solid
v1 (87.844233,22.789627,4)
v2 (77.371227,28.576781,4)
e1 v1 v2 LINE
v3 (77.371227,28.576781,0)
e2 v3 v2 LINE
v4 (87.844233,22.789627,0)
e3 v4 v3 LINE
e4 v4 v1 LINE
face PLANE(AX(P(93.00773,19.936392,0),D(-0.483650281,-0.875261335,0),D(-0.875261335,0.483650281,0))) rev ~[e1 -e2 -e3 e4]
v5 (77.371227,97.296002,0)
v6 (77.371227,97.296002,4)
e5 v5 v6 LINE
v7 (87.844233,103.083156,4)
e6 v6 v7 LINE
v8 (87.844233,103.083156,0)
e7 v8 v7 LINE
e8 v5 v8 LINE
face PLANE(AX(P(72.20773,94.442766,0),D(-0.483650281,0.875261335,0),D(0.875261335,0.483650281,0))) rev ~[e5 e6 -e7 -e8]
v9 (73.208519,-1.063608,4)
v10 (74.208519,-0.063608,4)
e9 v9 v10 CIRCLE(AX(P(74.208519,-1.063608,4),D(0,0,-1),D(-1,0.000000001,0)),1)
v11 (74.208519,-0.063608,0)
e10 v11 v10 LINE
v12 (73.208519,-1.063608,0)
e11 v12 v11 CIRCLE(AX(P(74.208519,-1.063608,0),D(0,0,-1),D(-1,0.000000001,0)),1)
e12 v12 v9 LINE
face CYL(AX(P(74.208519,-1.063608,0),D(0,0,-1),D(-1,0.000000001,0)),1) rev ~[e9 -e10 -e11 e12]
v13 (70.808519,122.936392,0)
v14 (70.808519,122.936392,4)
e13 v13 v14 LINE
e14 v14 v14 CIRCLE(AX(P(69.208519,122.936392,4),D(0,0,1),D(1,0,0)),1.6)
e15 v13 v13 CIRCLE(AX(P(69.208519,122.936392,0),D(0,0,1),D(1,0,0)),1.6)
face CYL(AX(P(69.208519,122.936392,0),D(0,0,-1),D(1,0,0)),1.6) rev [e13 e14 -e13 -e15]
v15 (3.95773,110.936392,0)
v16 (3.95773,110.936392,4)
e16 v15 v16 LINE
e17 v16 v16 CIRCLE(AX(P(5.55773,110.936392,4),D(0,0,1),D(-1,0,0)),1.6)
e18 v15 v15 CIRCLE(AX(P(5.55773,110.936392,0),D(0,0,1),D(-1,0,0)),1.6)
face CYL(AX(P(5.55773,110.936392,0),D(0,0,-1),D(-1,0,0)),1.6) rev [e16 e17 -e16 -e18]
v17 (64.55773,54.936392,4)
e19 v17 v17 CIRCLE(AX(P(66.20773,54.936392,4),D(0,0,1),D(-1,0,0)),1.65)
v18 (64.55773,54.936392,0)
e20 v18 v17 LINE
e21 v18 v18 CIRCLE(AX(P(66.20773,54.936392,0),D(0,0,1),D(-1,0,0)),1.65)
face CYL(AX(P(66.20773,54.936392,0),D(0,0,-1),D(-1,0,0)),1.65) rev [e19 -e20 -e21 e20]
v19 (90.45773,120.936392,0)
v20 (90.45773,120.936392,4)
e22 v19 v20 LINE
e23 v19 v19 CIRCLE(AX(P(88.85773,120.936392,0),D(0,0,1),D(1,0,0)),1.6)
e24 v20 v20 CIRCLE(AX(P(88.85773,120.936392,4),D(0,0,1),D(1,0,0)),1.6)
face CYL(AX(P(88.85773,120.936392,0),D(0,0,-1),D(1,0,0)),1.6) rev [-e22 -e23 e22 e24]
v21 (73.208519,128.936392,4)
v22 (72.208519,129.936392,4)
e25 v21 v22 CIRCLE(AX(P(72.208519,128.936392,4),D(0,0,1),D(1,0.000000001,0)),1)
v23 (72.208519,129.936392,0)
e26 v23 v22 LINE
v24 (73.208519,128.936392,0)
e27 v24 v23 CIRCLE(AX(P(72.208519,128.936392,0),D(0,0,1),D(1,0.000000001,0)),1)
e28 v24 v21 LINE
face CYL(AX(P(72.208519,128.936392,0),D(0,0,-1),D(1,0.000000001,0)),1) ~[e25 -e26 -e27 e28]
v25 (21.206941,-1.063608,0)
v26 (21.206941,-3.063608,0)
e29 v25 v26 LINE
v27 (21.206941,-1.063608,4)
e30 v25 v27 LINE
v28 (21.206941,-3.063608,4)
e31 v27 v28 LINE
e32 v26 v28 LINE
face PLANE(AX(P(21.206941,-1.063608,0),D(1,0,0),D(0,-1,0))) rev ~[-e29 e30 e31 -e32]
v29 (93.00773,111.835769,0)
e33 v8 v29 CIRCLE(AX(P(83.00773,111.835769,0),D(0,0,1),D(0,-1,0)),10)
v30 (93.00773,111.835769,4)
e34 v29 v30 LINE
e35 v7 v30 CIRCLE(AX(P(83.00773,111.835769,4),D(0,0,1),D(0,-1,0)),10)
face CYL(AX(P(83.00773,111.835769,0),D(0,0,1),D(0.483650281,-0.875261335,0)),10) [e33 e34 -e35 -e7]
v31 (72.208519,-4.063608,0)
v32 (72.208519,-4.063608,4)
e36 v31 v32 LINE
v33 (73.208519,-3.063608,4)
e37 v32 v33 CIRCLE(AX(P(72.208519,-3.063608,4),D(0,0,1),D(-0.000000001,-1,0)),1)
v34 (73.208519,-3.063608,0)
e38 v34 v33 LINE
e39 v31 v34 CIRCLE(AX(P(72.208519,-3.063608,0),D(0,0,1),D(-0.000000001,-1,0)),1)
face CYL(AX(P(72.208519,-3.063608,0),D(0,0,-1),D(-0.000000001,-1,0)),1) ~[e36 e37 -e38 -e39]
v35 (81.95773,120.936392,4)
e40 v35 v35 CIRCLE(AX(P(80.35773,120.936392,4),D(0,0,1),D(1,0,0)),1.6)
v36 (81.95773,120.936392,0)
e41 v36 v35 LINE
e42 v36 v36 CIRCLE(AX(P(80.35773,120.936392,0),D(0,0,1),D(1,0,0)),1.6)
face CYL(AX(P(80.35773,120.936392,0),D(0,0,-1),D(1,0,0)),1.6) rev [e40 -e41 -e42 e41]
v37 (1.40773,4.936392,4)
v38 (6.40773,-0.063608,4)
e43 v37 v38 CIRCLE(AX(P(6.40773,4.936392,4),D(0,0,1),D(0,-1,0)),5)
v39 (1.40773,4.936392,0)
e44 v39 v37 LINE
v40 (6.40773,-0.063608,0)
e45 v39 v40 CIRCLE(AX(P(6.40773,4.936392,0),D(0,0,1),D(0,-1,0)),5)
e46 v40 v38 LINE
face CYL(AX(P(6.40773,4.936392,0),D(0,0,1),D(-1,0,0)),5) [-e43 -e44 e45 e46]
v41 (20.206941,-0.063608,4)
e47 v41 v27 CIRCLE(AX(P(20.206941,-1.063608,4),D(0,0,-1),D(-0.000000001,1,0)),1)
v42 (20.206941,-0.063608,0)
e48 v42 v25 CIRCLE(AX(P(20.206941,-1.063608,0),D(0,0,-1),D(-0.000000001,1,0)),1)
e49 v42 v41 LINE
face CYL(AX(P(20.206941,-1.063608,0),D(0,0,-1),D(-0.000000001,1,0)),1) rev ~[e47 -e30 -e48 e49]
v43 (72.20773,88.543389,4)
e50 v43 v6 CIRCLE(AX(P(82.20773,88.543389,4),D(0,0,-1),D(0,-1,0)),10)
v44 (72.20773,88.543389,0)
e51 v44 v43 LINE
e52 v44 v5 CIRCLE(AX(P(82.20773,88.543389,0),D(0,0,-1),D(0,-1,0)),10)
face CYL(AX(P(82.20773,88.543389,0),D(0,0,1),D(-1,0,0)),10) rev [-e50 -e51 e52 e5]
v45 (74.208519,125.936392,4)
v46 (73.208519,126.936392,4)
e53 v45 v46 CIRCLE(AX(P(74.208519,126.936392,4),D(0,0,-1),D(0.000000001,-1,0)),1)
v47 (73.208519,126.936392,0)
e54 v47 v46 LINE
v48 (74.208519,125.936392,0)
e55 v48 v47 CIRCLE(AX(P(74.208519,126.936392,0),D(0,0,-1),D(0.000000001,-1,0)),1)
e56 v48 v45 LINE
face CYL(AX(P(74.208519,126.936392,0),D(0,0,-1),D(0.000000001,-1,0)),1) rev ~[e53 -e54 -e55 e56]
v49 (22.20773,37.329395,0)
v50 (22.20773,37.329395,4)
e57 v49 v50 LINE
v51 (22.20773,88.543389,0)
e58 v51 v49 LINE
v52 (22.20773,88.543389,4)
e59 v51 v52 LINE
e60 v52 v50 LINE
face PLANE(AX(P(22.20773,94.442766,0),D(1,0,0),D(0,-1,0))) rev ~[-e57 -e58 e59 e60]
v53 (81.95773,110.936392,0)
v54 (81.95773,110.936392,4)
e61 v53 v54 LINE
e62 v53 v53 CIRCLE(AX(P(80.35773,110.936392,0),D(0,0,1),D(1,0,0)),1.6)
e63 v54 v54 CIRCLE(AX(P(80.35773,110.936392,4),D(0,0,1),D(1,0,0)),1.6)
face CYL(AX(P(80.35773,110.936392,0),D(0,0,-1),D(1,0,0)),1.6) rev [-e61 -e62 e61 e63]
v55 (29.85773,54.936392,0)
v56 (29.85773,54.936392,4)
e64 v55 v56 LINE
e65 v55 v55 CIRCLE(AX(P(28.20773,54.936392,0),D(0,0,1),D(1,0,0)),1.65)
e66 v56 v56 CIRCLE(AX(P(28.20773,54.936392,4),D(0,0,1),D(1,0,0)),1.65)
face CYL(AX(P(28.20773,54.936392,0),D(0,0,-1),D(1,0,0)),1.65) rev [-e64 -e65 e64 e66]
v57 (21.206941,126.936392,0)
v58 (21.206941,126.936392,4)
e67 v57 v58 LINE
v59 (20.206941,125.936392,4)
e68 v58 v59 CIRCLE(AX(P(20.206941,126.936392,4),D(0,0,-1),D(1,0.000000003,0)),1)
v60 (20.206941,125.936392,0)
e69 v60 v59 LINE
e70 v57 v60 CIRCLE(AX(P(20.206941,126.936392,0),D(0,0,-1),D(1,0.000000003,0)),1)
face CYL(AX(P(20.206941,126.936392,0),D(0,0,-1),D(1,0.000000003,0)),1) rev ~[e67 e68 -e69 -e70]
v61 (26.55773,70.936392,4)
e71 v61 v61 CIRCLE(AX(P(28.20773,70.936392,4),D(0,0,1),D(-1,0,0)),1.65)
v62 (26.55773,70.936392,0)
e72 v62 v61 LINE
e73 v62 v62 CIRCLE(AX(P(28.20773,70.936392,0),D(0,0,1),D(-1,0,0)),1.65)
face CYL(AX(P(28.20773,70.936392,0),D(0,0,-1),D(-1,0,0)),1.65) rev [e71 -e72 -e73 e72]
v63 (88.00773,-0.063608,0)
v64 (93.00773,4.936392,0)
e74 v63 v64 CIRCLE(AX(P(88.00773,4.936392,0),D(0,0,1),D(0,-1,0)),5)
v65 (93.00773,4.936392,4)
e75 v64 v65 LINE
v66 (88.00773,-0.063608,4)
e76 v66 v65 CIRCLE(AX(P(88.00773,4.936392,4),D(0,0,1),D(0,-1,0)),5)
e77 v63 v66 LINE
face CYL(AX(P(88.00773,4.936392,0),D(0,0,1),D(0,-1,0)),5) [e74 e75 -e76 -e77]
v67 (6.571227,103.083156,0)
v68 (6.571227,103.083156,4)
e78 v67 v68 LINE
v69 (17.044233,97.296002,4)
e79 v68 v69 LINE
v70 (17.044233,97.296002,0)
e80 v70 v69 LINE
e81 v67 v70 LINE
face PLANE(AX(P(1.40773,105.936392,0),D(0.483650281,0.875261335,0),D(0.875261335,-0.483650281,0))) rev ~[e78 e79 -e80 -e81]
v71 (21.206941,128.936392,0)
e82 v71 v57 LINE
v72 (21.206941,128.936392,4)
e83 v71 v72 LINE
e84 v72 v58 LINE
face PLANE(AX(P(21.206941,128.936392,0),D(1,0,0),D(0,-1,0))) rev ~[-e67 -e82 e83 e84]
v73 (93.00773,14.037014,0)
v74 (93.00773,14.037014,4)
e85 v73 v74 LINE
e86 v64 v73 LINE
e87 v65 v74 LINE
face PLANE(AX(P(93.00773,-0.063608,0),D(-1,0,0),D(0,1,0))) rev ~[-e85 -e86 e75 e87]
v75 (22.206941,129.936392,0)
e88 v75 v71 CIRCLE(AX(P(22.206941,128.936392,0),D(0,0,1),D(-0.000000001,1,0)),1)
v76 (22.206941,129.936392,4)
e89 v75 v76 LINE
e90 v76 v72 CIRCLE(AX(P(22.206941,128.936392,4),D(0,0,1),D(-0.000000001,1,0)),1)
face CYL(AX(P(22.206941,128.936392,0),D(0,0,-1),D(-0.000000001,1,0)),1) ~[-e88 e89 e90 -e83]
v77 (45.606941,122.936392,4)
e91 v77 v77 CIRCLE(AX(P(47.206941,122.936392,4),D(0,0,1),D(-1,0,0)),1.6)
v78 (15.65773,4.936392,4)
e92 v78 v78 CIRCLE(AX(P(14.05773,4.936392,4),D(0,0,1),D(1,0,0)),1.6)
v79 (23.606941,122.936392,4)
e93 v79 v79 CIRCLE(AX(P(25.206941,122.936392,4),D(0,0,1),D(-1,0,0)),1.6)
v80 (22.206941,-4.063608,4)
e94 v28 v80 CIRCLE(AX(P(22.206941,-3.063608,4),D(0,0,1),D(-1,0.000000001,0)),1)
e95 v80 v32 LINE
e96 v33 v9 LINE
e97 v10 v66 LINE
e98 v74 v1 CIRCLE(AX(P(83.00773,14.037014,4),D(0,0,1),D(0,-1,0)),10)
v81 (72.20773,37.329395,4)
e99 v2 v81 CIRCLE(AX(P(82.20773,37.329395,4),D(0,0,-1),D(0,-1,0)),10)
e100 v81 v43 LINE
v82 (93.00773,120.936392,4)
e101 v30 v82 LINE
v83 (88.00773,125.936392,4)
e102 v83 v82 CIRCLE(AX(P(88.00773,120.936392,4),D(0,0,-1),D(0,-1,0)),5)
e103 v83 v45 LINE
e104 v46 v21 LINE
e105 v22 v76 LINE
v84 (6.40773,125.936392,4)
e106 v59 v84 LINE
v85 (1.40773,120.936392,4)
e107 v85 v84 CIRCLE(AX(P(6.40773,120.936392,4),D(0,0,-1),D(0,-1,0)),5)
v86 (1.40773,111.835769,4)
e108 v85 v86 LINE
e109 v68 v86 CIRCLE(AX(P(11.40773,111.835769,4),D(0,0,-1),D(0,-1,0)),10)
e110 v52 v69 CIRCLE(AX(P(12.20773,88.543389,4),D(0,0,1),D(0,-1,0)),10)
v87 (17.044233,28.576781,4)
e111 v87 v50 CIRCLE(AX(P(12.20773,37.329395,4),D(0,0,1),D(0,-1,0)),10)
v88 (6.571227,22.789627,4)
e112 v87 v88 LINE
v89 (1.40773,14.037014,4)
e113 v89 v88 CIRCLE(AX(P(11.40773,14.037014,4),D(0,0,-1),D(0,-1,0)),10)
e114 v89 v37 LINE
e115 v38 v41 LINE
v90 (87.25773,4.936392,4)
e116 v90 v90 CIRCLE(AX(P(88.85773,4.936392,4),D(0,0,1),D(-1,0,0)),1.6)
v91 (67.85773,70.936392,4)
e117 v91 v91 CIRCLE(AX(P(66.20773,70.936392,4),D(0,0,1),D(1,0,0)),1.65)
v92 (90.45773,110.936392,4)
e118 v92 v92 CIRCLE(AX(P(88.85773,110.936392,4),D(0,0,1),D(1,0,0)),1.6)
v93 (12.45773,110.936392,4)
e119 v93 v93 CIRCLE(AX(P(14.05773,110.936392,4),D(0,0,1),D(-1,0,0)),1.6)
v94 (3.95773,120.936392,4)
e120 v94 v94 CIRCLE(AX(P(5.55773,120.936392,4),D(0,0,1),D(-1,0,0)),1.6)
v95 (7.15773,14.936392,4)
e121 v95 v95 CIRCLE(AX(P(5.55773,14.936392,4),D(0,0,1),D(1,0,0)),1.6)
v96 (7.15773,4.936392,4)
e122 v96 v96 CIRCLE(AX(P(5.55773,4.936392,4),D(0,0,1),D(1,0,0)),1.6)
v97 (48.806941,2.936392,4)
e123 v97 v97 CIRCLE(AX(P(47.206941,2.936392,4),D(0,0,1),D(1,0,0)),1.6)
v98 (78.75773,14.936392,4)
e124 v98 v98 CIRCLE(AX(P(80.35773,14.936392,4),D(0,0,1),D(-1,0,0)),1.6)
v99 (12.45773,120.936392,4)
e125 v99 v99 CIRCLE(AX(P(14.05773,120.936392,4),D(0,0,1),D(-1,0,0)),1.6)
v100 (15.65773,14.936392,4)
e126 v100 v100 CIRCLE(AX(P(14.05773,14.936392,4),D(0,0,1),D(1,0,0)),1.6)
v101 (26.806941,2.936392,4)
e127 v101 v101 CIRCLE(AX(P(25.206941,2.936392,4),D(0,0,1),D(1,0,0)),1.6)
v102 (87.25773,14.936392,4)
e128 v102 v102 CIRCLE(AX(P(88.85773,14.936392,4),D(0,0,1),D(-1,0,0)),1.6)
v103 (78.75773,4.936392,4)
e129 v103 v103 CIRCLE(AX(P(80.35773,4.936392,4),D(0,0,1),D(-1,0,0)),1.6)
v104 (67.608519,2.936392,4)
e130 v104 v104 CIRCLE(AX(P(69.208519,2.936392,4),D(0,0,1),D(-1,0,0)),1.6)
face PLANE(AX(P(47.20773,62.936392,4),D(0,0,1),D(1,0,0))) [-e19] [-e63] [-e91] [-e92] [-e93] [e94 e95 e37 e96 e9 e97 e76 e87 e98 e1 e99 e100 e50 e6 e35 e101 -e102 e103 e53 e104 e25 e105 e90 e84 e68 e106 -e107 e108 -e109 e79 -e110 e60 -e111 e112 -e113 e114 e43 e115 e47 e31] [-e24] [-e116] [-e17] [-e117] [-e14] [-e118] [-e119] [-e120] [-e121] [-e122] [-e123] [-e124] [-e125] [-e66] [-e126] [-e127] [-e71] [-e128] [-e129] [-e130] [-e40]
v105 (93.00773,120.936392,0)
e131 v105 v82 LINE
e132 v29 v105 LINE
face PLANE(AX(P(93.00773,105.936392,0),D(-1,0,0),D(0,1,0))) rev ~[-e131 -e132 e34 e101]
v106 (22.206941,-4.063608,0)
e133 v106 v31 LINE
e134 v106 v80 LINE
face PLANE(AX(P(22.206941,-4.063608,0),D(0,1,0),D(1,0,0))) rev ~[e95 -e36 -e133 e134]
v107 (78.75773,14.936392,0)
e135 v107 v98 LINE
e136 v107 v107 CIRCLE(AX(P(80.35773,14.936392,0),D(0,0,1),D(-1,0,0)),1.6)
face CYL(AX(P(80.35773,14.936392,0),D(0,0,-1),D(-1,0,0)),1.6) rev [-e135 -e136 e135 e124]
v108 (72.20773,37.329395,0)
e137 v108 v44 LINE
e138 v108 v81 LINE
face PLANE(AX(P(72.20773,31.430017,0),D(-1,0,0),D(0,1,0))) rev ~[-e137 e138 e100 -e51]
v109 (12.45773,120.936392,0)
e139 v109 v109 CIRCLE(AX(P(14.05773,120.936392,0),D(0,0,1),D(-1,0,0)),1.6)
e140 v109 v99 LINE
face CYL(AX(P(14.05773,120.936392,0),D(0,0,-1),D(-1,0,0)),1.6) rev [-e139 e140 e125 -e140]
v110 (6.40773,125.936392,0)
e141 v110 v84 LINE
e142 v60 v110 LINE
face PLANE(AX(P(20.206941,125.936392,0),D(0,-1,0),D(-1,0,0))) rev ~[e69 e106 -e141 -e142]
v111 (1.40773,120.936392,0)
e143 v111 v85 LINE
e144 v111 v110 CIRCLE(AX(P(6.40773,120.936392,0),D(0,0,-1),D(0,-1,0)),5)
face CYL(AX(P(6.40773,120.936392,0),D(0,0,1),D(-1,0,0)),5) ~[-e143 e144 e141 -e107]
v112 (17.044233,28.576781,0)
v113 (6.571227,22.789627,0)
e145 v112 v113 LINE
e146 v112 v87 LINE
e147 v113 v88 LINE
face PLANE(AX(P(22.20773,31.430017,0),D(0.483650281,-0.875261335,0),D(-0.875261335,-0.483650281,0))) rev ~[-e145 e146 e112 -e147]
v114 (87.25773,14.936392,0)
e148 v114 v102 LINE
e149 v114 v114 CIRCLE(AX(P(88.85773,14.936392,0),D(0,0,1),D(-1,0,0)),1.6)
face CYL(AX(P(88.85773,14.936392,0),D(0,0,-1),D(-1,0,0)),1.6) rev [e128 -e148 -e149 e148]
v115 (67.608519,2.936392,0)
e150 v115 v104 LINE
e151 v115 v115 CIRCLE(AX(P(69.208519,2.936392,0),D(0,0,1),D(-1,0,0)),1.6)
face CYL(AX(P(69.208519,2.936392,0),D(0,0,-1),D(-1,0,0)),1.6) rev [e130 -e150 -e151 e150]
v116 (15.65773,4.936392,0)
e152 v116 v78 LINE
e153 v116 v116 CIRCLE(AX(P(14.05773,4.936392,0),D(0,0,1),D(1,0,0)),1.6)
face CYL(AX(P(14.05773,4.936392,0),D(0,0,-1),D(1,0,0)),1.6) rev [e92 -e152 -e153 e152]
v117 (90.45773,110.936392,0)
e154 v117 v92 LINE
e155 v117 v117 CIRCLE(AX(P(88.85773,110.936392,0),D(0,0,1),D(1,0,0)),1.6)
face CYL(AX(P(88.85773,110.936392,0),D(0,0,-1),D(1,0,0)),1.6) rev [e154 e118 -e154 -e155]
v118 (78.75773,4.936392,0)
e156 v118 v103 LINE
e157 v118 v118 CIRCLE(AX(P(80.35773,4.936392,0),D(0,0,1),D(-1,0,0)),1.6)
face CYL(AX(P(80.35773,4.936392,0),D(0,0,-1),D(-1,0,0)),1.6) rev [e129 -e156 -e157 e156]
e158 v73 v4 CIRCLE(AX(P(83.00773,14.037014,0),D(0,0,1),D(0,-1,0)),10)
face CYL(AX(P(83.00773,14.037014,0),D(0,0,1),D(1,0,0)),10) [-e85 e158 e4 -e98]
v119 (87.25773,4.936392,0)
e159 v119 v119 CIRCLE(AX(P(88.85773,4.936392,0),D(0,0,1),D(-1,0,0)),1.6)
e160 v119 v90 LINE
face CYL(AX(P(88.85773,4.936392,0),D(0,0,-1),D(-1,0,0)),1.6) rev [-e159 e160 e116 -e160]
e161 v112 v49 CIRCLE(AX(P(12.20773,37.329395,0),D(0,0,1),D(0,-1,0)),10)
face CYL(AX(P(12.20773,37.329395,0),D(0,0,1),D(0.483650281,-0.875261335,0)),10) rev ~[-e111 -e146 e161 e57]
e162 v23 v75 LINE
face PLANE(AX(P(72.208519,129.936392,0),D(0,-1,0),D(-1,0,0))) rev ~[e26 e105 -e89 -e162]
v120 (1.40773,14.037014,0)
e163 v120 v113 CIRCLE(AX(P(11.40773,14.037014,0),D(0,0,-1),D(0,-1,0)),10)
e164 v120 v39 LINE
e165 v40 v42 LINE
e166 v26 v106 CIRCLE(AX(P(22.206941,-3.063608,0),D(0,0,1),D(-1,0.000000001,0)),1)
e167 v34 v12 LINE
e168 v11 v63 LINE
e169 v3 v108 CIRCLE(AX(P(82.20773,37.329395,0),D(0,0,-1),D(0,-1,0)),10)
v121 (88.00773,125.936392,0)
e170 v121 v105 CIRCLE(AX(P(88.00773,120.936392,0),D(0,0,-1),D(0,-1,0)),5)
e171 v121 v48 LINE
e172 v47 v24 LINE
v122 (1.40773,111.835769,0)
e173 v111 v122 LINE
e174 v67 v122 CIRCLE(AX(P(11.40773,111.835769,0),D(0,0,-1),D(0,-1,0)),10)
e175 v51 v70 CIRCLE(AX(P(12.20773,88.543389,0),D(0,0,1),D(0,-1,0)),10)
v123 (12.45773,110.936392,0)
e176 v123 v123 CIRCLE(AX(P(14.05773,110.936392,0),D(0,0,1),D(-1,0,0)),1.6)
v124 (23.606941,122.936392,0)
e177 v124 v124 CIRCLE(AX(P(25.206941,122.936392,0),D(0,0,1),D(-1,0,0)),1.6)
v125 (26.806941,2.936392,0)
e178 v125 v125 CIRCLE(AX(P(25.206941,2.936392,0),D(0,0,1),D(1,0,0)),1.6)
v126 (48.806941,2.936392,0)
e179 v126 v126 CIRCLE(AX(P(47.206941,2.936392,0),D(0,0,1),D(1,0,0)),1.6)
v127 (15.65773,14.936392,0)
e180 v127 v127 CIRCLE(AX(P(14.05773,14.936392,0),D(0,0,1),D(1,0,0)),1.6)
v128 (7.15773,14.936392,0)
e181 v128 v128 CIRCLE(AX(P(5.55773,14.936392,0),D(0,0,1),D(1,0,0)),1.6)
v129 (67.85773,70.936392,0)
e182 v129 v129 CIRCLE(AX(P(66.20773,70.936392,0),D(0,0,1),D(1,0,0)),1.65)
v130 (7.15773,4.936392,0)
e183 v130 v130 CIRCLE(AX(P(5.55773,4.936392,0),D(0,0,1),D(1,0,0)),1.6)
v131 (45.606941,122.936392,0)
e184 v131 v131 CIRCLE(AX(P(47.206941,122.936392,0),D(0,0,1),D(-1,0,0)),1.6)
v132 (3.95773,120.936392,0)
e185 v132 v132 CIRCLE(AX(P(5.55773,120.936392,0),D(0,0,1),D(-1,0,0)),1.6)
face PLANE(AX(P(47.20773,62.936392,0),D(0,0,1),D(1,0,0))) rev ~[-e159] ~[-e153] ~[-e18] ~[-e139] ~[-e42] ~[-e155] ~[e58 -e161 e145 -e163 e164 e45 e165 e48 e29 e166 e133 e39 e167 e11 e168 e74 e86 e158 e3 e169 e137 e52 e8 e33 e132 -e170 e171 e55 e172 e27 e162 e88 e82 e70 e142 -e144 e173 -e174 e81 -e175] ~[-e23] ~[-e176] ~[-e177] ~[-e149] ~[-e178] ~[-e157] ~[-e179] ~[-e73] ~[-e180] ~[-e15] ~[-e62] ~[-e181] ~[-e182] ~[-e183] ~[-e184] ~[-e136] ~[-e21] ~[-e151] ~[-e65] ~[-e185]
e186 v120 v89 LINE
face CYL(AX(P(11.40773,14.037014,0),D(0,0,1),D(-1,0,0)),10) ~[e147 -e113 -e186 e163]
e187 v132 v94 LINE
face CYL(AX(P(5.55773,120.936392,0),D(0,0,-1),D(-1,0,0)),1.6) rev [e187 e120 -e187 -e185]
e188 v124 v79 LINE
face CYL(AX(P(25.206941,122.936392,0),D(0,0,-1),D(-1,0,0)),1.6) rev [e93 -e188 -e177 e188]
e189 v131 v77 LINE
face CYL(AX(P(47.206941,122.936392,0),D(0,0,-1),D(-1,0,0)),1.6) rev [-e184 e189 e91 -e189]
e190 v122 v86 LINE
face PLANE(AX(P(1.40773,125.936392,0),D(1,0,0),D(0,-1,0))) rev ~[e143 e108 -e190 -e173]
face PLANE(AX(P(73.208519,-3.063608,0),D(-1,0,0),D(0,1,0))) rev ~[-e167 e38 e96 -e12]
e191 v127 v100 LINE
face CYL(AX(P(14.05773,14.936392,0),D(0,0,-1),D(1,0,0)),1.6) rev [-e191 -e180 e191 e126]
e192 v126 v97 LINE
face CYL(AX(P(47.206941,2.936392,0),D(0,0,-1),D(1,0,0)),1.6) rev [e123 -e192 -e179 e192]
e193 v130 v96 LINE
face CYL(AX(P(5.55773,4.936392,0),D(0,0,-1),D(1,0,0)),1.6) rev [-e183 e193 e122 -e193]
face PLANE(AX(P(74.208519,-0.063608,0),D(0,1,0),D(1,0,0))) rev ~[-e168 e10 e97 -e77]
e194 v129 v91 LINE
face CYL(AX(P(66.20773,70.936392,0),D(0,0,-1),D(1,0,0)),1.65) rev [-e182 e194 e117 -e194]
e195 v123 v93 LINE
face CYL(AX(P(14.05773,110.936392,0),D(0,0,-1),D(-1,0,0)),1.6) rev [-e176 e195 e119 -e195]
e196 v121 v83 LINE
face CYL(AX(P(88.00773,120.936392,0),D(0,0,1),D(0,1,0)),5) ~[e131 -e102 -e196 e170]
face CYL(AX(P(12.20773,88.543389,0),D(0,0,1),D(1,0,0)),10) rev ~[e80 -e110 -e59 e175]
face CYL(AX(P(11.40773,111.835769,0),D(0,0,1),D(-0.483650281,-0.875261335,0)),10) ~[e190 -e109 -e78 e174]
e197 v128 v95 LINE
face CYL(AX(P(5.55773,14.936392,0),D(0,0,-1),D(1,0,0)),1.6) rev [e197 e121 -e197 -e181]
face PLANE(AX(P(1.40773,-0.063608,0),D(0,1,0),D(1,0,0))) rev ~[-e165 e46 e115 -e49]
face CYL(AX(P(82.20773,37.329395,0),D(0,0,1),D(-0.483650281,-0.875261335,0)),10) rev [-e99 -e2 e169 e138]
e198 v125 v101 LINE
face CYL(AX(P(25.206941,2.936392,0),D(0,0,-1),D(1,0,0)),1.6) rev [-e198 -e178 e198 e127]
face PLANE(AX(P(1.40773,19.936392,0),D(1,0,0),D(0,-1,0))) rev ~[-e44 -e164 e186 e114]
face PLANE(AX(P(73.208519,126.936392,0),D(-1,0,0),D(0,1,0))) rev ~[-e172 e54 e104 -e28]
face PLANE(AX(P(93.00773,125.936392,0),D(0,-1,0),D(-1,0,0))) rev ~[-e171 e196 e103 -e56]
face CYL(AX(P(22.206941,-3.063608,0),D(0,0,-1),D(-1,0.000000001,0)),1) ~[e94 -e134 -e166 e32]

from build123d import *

# Parameters (mm, degrees)
SKETCH1_R           = 1.6
SKETCH1_R_2         = 1.65
BOSS_EXTRUDE1_DEPTH = 4
FILLET2_R           = 10
FILLET3_R           = 5


with BuildPart() as part:
    # Sketch1 → Boss-Extrude1 (new body)
    with BuildSketch(Plane.XY):
        with BuildLine():
            Line((1.40773023, -0.063608297), (20.206941284, -0.063608297))
            ThreePointArc((20.206941284, -0.063608297), (20.914048066, -0.356501516), (21.206941284, -1.063608297))
            Line((21.206941284, -1.063608297), (21.206941284, -3.063608297))
            ThreePointArc((21.206941284, -3.063608297), (21.499834503, -3.770715079), (22.206941284, -4.063608297))
            Line((22.206941284, -4.063608297), (72.208519176, -4.063608297))
            ThreePointArc((72.208519176, -4.063608297), (72.915625957, -3.770715079), (73.208519176, -3.063608297))
            Line((73.208519176, -3.063608297), (73.208519176, -1.063608297))
            ThreePointArc((73.208519176, -1.063608297), (73.501412395, -0.356501516), (74.208519176, -0.063608297))
            Line((74.208519176, -0.063608297), (93.00773023, -0.063608297))
            Line((93.00773023, -0.063608297), (93.00773023, 19.936391703))
            Line((93.00773023, 19.936391703), (72.20773023, 31.430017028))
            Line((72.20773023, 31.430017028), (72.20773023, 94.442766377))
            Line((72.20773023, 94.442766377), (93.00773023, 105.936391703))
            Line((93.00773023, 105.936391703), (93.00773023, 125.936391703))
            Line((93.00773023, 125.936391703), (74.208519176, 125.936391703))
            ThreePointArc((74.208519176, 125.936391703), (73.501412395, 126.229284921), (73.208519176, 126.936391703))
            Line((73.208519176, 126.936391703), (73.208519176, 128.936391703))
            ThreePointArc((73.208519176, 128.936391703), (72.915625957, 129.643498484), (72.208519176, 129.936391703))
            Line((72.208519176, 129.936391703), (22.206941284, 129.936391703))
            ThreePointArc((22.206941284, 129.936391703), (21.499834503, 129.643498484), (21.206941284, 128.936391703))
            Line((21.206941284, 128.936391703), (21.206941284, 126.936391703))
            ThreePointArc((21.206941284, 126.936391703), (20.914048066, 126.229284921), (20.206941284, 125.936391703))
            Line((20.206941284, 125.936391703), (1.40773023, 125.936391703))
            Line((1.40773023, 125.936391703), (1.40773023, 105.936391703))
            Line((1.40773023, 105.936391703), (22.20773023, 94.442766377))
            Line((22.20773023, 94.442766377), (22.20773023, 31.430017028))
            Line((22.20773023, 31.430017028), (1.40773023, 19.936391703))
            Line((1.40773023, 19.936391703), (1.40773023, -0.063608297))
        make_face()
        with Locations((5.55773023, 4.936391703)):
            Circle(SKETCH1_R, mode=Mode.SUBTRACT)
        with Locations((14.05773023, 4.936391703)):
            Circle(SKETCH1_R, mode=Mode.SUBTRACT)
        with Locations((14.05773023, 14.936391703)):
            Circle(SKETCH1_R, mode=Mode.SUBTRACT)
        with Locations((5.55773023, 14.936391703)):
            Circle(SKETCH1_R, mode=Mode.SUBTRACT)
        with Locations(Location((69.208519176, 2.936391703, 0), (0, 0, 180))):
            Circle(SKETCH1_R, mode=Mode.SUBTRACT)
        with Locations((47.206941284, 2.936391703)):
            Circle(SKETCH1_R, mode=Mode.SUBTRACT)
        with Locations(Location((66.20773023, 54.936391703, 0), (0, 0, 180))):
            Circle(SKETCH1_R_2, mode=Mode.SUBTRACT)
        with Locations(Location((88.85773023, 14.936391703, 0), (0, 0, 180))):
            Circle(SKETCH1_R, mode=Mode.SUBTRACT)
        with Locations(Location((80.35773023, 14.936391703, 0), (0, 0, 180))):
            Circle(SKETCH1_R, mode=Mode.SUBTRACT)
        with Locations(Location((80.35773023, 4.936391703, 0), (0, 0, 180))):
            Circle(SKETCH1_R, mode=Mode.SUBTRACT)
        with Locations(Location((88.85773023, 4.936391703, 0), (0, 0, 180))):
            Circle(SKETCH1_R, mode=Mode.SUBTRACT)
        with Locations((28.20773023, 54.936391703)):
            Circle(SKETCH1_R_2, mode=Mode.SUBTRACT)
        with Locations((25.206941284, 2.936391703)):
            Circle(SKETCH1_R, mode=Mode.SUBTRACT)
        with Locations(Location((25.206941284, 122.936391703, 0), (0, 0, 180))):
            Circle(SKETCH1_R, mode=Mode.SUBTRACT)
        with Locations(Location((28.20773023, 70.936391703, 0), (0, 0, 180))):
            Circle(SKETCH1_R_2, mode=Mode.SUBTRACT)
        with Locations((88.85773023, 120.936391703)):
            Circle(SKETCH1_R, mode=Mode.SUBTRACT)
        with Locations((80.35773023, 120.936391703)):
            Circle(SKETCH1_R, mode=Mode.SUBTRACT)
        with Locations((80.35773023, 110.936391703)):
            Circle(SKETCH1_R, mode=Mode.SUBTRACT)
        with Locations((88.85773023, 110.936391703)):
            Circle(SKETCH1_R, mode=Mode.SUBTRACT)
        with Locations((66.20773023, 70.936391703)):
            Circle(SKETCH1_R_2, mode=Mode.SUBTRACT)
        with Locations(Location((47.206941284, 122.936391703, 0), (0, 0, 180))):
            Circle(SKETCH1_R, mode=Mode.SUBTRACT)
        with Locations((69.208519176, 122.936391703)):
            Circle(SKETCH1_R, mode=Mode.SUBTRACT)
        with Locations(Location((5.55773023, 110.936391703, 0), (0, 0, 180))):
            Circle(SKETCH1_R, mode=Mode.SUBTRACT)
        with Locations(Location((14.05773023, 110.936391703, 0), (0, 0, 180))):
            Circle(SKETCH1_R, mode=Mode.SUBTRACT)
        with Locations(Location((14.05773023, 120.936391703, 0), (0, 0, 180))):
            Circle(SKETCH1_R, mode=Mode.SUBTRACT)
        with Locations(Location((5.55773023, 120.936391703, 0), (0, 0, 180))):
            Circle(SKETCH1_R, mode=Mode.SUBTRACT)
    extrude(amount=BOSS_EXTRUDE1_DEPTH)

    # Fillet2
    fillet2_edges = [part.edges().sort_by_distance(p)[0] for p in [
        (1.40773023, 19.936391703, 2),
        (22.20773023, 31.430017028, 2),
        (22.20773023, 94.442766377, 2),
        (1.40773023, 105.936391703, 2),
        (93.00773023, 105.936391703, 2),
        (72.20773023, 94.442766377, 2),
        (72.20773023, 31.430017028, 2),
        (93.00773023, 19.936391703, 2),
    ]]
    fillet(fillet2_edges, radius=FILLET2_R)

    # Fillet3
    fillet3_edges = [part.edges().sort_by_distance(p)[0] for p in [
        (1.40773023, 125.936391703, 2),
        (93.00773023, 125.936391703, 2),
        (93.00773023, -0.063608297, 2),
        (1.40773023, -0.063608297, 2),
    ]]
    fillet(fillet3_edges, radius=FILLET3_R)


solid = part.part
